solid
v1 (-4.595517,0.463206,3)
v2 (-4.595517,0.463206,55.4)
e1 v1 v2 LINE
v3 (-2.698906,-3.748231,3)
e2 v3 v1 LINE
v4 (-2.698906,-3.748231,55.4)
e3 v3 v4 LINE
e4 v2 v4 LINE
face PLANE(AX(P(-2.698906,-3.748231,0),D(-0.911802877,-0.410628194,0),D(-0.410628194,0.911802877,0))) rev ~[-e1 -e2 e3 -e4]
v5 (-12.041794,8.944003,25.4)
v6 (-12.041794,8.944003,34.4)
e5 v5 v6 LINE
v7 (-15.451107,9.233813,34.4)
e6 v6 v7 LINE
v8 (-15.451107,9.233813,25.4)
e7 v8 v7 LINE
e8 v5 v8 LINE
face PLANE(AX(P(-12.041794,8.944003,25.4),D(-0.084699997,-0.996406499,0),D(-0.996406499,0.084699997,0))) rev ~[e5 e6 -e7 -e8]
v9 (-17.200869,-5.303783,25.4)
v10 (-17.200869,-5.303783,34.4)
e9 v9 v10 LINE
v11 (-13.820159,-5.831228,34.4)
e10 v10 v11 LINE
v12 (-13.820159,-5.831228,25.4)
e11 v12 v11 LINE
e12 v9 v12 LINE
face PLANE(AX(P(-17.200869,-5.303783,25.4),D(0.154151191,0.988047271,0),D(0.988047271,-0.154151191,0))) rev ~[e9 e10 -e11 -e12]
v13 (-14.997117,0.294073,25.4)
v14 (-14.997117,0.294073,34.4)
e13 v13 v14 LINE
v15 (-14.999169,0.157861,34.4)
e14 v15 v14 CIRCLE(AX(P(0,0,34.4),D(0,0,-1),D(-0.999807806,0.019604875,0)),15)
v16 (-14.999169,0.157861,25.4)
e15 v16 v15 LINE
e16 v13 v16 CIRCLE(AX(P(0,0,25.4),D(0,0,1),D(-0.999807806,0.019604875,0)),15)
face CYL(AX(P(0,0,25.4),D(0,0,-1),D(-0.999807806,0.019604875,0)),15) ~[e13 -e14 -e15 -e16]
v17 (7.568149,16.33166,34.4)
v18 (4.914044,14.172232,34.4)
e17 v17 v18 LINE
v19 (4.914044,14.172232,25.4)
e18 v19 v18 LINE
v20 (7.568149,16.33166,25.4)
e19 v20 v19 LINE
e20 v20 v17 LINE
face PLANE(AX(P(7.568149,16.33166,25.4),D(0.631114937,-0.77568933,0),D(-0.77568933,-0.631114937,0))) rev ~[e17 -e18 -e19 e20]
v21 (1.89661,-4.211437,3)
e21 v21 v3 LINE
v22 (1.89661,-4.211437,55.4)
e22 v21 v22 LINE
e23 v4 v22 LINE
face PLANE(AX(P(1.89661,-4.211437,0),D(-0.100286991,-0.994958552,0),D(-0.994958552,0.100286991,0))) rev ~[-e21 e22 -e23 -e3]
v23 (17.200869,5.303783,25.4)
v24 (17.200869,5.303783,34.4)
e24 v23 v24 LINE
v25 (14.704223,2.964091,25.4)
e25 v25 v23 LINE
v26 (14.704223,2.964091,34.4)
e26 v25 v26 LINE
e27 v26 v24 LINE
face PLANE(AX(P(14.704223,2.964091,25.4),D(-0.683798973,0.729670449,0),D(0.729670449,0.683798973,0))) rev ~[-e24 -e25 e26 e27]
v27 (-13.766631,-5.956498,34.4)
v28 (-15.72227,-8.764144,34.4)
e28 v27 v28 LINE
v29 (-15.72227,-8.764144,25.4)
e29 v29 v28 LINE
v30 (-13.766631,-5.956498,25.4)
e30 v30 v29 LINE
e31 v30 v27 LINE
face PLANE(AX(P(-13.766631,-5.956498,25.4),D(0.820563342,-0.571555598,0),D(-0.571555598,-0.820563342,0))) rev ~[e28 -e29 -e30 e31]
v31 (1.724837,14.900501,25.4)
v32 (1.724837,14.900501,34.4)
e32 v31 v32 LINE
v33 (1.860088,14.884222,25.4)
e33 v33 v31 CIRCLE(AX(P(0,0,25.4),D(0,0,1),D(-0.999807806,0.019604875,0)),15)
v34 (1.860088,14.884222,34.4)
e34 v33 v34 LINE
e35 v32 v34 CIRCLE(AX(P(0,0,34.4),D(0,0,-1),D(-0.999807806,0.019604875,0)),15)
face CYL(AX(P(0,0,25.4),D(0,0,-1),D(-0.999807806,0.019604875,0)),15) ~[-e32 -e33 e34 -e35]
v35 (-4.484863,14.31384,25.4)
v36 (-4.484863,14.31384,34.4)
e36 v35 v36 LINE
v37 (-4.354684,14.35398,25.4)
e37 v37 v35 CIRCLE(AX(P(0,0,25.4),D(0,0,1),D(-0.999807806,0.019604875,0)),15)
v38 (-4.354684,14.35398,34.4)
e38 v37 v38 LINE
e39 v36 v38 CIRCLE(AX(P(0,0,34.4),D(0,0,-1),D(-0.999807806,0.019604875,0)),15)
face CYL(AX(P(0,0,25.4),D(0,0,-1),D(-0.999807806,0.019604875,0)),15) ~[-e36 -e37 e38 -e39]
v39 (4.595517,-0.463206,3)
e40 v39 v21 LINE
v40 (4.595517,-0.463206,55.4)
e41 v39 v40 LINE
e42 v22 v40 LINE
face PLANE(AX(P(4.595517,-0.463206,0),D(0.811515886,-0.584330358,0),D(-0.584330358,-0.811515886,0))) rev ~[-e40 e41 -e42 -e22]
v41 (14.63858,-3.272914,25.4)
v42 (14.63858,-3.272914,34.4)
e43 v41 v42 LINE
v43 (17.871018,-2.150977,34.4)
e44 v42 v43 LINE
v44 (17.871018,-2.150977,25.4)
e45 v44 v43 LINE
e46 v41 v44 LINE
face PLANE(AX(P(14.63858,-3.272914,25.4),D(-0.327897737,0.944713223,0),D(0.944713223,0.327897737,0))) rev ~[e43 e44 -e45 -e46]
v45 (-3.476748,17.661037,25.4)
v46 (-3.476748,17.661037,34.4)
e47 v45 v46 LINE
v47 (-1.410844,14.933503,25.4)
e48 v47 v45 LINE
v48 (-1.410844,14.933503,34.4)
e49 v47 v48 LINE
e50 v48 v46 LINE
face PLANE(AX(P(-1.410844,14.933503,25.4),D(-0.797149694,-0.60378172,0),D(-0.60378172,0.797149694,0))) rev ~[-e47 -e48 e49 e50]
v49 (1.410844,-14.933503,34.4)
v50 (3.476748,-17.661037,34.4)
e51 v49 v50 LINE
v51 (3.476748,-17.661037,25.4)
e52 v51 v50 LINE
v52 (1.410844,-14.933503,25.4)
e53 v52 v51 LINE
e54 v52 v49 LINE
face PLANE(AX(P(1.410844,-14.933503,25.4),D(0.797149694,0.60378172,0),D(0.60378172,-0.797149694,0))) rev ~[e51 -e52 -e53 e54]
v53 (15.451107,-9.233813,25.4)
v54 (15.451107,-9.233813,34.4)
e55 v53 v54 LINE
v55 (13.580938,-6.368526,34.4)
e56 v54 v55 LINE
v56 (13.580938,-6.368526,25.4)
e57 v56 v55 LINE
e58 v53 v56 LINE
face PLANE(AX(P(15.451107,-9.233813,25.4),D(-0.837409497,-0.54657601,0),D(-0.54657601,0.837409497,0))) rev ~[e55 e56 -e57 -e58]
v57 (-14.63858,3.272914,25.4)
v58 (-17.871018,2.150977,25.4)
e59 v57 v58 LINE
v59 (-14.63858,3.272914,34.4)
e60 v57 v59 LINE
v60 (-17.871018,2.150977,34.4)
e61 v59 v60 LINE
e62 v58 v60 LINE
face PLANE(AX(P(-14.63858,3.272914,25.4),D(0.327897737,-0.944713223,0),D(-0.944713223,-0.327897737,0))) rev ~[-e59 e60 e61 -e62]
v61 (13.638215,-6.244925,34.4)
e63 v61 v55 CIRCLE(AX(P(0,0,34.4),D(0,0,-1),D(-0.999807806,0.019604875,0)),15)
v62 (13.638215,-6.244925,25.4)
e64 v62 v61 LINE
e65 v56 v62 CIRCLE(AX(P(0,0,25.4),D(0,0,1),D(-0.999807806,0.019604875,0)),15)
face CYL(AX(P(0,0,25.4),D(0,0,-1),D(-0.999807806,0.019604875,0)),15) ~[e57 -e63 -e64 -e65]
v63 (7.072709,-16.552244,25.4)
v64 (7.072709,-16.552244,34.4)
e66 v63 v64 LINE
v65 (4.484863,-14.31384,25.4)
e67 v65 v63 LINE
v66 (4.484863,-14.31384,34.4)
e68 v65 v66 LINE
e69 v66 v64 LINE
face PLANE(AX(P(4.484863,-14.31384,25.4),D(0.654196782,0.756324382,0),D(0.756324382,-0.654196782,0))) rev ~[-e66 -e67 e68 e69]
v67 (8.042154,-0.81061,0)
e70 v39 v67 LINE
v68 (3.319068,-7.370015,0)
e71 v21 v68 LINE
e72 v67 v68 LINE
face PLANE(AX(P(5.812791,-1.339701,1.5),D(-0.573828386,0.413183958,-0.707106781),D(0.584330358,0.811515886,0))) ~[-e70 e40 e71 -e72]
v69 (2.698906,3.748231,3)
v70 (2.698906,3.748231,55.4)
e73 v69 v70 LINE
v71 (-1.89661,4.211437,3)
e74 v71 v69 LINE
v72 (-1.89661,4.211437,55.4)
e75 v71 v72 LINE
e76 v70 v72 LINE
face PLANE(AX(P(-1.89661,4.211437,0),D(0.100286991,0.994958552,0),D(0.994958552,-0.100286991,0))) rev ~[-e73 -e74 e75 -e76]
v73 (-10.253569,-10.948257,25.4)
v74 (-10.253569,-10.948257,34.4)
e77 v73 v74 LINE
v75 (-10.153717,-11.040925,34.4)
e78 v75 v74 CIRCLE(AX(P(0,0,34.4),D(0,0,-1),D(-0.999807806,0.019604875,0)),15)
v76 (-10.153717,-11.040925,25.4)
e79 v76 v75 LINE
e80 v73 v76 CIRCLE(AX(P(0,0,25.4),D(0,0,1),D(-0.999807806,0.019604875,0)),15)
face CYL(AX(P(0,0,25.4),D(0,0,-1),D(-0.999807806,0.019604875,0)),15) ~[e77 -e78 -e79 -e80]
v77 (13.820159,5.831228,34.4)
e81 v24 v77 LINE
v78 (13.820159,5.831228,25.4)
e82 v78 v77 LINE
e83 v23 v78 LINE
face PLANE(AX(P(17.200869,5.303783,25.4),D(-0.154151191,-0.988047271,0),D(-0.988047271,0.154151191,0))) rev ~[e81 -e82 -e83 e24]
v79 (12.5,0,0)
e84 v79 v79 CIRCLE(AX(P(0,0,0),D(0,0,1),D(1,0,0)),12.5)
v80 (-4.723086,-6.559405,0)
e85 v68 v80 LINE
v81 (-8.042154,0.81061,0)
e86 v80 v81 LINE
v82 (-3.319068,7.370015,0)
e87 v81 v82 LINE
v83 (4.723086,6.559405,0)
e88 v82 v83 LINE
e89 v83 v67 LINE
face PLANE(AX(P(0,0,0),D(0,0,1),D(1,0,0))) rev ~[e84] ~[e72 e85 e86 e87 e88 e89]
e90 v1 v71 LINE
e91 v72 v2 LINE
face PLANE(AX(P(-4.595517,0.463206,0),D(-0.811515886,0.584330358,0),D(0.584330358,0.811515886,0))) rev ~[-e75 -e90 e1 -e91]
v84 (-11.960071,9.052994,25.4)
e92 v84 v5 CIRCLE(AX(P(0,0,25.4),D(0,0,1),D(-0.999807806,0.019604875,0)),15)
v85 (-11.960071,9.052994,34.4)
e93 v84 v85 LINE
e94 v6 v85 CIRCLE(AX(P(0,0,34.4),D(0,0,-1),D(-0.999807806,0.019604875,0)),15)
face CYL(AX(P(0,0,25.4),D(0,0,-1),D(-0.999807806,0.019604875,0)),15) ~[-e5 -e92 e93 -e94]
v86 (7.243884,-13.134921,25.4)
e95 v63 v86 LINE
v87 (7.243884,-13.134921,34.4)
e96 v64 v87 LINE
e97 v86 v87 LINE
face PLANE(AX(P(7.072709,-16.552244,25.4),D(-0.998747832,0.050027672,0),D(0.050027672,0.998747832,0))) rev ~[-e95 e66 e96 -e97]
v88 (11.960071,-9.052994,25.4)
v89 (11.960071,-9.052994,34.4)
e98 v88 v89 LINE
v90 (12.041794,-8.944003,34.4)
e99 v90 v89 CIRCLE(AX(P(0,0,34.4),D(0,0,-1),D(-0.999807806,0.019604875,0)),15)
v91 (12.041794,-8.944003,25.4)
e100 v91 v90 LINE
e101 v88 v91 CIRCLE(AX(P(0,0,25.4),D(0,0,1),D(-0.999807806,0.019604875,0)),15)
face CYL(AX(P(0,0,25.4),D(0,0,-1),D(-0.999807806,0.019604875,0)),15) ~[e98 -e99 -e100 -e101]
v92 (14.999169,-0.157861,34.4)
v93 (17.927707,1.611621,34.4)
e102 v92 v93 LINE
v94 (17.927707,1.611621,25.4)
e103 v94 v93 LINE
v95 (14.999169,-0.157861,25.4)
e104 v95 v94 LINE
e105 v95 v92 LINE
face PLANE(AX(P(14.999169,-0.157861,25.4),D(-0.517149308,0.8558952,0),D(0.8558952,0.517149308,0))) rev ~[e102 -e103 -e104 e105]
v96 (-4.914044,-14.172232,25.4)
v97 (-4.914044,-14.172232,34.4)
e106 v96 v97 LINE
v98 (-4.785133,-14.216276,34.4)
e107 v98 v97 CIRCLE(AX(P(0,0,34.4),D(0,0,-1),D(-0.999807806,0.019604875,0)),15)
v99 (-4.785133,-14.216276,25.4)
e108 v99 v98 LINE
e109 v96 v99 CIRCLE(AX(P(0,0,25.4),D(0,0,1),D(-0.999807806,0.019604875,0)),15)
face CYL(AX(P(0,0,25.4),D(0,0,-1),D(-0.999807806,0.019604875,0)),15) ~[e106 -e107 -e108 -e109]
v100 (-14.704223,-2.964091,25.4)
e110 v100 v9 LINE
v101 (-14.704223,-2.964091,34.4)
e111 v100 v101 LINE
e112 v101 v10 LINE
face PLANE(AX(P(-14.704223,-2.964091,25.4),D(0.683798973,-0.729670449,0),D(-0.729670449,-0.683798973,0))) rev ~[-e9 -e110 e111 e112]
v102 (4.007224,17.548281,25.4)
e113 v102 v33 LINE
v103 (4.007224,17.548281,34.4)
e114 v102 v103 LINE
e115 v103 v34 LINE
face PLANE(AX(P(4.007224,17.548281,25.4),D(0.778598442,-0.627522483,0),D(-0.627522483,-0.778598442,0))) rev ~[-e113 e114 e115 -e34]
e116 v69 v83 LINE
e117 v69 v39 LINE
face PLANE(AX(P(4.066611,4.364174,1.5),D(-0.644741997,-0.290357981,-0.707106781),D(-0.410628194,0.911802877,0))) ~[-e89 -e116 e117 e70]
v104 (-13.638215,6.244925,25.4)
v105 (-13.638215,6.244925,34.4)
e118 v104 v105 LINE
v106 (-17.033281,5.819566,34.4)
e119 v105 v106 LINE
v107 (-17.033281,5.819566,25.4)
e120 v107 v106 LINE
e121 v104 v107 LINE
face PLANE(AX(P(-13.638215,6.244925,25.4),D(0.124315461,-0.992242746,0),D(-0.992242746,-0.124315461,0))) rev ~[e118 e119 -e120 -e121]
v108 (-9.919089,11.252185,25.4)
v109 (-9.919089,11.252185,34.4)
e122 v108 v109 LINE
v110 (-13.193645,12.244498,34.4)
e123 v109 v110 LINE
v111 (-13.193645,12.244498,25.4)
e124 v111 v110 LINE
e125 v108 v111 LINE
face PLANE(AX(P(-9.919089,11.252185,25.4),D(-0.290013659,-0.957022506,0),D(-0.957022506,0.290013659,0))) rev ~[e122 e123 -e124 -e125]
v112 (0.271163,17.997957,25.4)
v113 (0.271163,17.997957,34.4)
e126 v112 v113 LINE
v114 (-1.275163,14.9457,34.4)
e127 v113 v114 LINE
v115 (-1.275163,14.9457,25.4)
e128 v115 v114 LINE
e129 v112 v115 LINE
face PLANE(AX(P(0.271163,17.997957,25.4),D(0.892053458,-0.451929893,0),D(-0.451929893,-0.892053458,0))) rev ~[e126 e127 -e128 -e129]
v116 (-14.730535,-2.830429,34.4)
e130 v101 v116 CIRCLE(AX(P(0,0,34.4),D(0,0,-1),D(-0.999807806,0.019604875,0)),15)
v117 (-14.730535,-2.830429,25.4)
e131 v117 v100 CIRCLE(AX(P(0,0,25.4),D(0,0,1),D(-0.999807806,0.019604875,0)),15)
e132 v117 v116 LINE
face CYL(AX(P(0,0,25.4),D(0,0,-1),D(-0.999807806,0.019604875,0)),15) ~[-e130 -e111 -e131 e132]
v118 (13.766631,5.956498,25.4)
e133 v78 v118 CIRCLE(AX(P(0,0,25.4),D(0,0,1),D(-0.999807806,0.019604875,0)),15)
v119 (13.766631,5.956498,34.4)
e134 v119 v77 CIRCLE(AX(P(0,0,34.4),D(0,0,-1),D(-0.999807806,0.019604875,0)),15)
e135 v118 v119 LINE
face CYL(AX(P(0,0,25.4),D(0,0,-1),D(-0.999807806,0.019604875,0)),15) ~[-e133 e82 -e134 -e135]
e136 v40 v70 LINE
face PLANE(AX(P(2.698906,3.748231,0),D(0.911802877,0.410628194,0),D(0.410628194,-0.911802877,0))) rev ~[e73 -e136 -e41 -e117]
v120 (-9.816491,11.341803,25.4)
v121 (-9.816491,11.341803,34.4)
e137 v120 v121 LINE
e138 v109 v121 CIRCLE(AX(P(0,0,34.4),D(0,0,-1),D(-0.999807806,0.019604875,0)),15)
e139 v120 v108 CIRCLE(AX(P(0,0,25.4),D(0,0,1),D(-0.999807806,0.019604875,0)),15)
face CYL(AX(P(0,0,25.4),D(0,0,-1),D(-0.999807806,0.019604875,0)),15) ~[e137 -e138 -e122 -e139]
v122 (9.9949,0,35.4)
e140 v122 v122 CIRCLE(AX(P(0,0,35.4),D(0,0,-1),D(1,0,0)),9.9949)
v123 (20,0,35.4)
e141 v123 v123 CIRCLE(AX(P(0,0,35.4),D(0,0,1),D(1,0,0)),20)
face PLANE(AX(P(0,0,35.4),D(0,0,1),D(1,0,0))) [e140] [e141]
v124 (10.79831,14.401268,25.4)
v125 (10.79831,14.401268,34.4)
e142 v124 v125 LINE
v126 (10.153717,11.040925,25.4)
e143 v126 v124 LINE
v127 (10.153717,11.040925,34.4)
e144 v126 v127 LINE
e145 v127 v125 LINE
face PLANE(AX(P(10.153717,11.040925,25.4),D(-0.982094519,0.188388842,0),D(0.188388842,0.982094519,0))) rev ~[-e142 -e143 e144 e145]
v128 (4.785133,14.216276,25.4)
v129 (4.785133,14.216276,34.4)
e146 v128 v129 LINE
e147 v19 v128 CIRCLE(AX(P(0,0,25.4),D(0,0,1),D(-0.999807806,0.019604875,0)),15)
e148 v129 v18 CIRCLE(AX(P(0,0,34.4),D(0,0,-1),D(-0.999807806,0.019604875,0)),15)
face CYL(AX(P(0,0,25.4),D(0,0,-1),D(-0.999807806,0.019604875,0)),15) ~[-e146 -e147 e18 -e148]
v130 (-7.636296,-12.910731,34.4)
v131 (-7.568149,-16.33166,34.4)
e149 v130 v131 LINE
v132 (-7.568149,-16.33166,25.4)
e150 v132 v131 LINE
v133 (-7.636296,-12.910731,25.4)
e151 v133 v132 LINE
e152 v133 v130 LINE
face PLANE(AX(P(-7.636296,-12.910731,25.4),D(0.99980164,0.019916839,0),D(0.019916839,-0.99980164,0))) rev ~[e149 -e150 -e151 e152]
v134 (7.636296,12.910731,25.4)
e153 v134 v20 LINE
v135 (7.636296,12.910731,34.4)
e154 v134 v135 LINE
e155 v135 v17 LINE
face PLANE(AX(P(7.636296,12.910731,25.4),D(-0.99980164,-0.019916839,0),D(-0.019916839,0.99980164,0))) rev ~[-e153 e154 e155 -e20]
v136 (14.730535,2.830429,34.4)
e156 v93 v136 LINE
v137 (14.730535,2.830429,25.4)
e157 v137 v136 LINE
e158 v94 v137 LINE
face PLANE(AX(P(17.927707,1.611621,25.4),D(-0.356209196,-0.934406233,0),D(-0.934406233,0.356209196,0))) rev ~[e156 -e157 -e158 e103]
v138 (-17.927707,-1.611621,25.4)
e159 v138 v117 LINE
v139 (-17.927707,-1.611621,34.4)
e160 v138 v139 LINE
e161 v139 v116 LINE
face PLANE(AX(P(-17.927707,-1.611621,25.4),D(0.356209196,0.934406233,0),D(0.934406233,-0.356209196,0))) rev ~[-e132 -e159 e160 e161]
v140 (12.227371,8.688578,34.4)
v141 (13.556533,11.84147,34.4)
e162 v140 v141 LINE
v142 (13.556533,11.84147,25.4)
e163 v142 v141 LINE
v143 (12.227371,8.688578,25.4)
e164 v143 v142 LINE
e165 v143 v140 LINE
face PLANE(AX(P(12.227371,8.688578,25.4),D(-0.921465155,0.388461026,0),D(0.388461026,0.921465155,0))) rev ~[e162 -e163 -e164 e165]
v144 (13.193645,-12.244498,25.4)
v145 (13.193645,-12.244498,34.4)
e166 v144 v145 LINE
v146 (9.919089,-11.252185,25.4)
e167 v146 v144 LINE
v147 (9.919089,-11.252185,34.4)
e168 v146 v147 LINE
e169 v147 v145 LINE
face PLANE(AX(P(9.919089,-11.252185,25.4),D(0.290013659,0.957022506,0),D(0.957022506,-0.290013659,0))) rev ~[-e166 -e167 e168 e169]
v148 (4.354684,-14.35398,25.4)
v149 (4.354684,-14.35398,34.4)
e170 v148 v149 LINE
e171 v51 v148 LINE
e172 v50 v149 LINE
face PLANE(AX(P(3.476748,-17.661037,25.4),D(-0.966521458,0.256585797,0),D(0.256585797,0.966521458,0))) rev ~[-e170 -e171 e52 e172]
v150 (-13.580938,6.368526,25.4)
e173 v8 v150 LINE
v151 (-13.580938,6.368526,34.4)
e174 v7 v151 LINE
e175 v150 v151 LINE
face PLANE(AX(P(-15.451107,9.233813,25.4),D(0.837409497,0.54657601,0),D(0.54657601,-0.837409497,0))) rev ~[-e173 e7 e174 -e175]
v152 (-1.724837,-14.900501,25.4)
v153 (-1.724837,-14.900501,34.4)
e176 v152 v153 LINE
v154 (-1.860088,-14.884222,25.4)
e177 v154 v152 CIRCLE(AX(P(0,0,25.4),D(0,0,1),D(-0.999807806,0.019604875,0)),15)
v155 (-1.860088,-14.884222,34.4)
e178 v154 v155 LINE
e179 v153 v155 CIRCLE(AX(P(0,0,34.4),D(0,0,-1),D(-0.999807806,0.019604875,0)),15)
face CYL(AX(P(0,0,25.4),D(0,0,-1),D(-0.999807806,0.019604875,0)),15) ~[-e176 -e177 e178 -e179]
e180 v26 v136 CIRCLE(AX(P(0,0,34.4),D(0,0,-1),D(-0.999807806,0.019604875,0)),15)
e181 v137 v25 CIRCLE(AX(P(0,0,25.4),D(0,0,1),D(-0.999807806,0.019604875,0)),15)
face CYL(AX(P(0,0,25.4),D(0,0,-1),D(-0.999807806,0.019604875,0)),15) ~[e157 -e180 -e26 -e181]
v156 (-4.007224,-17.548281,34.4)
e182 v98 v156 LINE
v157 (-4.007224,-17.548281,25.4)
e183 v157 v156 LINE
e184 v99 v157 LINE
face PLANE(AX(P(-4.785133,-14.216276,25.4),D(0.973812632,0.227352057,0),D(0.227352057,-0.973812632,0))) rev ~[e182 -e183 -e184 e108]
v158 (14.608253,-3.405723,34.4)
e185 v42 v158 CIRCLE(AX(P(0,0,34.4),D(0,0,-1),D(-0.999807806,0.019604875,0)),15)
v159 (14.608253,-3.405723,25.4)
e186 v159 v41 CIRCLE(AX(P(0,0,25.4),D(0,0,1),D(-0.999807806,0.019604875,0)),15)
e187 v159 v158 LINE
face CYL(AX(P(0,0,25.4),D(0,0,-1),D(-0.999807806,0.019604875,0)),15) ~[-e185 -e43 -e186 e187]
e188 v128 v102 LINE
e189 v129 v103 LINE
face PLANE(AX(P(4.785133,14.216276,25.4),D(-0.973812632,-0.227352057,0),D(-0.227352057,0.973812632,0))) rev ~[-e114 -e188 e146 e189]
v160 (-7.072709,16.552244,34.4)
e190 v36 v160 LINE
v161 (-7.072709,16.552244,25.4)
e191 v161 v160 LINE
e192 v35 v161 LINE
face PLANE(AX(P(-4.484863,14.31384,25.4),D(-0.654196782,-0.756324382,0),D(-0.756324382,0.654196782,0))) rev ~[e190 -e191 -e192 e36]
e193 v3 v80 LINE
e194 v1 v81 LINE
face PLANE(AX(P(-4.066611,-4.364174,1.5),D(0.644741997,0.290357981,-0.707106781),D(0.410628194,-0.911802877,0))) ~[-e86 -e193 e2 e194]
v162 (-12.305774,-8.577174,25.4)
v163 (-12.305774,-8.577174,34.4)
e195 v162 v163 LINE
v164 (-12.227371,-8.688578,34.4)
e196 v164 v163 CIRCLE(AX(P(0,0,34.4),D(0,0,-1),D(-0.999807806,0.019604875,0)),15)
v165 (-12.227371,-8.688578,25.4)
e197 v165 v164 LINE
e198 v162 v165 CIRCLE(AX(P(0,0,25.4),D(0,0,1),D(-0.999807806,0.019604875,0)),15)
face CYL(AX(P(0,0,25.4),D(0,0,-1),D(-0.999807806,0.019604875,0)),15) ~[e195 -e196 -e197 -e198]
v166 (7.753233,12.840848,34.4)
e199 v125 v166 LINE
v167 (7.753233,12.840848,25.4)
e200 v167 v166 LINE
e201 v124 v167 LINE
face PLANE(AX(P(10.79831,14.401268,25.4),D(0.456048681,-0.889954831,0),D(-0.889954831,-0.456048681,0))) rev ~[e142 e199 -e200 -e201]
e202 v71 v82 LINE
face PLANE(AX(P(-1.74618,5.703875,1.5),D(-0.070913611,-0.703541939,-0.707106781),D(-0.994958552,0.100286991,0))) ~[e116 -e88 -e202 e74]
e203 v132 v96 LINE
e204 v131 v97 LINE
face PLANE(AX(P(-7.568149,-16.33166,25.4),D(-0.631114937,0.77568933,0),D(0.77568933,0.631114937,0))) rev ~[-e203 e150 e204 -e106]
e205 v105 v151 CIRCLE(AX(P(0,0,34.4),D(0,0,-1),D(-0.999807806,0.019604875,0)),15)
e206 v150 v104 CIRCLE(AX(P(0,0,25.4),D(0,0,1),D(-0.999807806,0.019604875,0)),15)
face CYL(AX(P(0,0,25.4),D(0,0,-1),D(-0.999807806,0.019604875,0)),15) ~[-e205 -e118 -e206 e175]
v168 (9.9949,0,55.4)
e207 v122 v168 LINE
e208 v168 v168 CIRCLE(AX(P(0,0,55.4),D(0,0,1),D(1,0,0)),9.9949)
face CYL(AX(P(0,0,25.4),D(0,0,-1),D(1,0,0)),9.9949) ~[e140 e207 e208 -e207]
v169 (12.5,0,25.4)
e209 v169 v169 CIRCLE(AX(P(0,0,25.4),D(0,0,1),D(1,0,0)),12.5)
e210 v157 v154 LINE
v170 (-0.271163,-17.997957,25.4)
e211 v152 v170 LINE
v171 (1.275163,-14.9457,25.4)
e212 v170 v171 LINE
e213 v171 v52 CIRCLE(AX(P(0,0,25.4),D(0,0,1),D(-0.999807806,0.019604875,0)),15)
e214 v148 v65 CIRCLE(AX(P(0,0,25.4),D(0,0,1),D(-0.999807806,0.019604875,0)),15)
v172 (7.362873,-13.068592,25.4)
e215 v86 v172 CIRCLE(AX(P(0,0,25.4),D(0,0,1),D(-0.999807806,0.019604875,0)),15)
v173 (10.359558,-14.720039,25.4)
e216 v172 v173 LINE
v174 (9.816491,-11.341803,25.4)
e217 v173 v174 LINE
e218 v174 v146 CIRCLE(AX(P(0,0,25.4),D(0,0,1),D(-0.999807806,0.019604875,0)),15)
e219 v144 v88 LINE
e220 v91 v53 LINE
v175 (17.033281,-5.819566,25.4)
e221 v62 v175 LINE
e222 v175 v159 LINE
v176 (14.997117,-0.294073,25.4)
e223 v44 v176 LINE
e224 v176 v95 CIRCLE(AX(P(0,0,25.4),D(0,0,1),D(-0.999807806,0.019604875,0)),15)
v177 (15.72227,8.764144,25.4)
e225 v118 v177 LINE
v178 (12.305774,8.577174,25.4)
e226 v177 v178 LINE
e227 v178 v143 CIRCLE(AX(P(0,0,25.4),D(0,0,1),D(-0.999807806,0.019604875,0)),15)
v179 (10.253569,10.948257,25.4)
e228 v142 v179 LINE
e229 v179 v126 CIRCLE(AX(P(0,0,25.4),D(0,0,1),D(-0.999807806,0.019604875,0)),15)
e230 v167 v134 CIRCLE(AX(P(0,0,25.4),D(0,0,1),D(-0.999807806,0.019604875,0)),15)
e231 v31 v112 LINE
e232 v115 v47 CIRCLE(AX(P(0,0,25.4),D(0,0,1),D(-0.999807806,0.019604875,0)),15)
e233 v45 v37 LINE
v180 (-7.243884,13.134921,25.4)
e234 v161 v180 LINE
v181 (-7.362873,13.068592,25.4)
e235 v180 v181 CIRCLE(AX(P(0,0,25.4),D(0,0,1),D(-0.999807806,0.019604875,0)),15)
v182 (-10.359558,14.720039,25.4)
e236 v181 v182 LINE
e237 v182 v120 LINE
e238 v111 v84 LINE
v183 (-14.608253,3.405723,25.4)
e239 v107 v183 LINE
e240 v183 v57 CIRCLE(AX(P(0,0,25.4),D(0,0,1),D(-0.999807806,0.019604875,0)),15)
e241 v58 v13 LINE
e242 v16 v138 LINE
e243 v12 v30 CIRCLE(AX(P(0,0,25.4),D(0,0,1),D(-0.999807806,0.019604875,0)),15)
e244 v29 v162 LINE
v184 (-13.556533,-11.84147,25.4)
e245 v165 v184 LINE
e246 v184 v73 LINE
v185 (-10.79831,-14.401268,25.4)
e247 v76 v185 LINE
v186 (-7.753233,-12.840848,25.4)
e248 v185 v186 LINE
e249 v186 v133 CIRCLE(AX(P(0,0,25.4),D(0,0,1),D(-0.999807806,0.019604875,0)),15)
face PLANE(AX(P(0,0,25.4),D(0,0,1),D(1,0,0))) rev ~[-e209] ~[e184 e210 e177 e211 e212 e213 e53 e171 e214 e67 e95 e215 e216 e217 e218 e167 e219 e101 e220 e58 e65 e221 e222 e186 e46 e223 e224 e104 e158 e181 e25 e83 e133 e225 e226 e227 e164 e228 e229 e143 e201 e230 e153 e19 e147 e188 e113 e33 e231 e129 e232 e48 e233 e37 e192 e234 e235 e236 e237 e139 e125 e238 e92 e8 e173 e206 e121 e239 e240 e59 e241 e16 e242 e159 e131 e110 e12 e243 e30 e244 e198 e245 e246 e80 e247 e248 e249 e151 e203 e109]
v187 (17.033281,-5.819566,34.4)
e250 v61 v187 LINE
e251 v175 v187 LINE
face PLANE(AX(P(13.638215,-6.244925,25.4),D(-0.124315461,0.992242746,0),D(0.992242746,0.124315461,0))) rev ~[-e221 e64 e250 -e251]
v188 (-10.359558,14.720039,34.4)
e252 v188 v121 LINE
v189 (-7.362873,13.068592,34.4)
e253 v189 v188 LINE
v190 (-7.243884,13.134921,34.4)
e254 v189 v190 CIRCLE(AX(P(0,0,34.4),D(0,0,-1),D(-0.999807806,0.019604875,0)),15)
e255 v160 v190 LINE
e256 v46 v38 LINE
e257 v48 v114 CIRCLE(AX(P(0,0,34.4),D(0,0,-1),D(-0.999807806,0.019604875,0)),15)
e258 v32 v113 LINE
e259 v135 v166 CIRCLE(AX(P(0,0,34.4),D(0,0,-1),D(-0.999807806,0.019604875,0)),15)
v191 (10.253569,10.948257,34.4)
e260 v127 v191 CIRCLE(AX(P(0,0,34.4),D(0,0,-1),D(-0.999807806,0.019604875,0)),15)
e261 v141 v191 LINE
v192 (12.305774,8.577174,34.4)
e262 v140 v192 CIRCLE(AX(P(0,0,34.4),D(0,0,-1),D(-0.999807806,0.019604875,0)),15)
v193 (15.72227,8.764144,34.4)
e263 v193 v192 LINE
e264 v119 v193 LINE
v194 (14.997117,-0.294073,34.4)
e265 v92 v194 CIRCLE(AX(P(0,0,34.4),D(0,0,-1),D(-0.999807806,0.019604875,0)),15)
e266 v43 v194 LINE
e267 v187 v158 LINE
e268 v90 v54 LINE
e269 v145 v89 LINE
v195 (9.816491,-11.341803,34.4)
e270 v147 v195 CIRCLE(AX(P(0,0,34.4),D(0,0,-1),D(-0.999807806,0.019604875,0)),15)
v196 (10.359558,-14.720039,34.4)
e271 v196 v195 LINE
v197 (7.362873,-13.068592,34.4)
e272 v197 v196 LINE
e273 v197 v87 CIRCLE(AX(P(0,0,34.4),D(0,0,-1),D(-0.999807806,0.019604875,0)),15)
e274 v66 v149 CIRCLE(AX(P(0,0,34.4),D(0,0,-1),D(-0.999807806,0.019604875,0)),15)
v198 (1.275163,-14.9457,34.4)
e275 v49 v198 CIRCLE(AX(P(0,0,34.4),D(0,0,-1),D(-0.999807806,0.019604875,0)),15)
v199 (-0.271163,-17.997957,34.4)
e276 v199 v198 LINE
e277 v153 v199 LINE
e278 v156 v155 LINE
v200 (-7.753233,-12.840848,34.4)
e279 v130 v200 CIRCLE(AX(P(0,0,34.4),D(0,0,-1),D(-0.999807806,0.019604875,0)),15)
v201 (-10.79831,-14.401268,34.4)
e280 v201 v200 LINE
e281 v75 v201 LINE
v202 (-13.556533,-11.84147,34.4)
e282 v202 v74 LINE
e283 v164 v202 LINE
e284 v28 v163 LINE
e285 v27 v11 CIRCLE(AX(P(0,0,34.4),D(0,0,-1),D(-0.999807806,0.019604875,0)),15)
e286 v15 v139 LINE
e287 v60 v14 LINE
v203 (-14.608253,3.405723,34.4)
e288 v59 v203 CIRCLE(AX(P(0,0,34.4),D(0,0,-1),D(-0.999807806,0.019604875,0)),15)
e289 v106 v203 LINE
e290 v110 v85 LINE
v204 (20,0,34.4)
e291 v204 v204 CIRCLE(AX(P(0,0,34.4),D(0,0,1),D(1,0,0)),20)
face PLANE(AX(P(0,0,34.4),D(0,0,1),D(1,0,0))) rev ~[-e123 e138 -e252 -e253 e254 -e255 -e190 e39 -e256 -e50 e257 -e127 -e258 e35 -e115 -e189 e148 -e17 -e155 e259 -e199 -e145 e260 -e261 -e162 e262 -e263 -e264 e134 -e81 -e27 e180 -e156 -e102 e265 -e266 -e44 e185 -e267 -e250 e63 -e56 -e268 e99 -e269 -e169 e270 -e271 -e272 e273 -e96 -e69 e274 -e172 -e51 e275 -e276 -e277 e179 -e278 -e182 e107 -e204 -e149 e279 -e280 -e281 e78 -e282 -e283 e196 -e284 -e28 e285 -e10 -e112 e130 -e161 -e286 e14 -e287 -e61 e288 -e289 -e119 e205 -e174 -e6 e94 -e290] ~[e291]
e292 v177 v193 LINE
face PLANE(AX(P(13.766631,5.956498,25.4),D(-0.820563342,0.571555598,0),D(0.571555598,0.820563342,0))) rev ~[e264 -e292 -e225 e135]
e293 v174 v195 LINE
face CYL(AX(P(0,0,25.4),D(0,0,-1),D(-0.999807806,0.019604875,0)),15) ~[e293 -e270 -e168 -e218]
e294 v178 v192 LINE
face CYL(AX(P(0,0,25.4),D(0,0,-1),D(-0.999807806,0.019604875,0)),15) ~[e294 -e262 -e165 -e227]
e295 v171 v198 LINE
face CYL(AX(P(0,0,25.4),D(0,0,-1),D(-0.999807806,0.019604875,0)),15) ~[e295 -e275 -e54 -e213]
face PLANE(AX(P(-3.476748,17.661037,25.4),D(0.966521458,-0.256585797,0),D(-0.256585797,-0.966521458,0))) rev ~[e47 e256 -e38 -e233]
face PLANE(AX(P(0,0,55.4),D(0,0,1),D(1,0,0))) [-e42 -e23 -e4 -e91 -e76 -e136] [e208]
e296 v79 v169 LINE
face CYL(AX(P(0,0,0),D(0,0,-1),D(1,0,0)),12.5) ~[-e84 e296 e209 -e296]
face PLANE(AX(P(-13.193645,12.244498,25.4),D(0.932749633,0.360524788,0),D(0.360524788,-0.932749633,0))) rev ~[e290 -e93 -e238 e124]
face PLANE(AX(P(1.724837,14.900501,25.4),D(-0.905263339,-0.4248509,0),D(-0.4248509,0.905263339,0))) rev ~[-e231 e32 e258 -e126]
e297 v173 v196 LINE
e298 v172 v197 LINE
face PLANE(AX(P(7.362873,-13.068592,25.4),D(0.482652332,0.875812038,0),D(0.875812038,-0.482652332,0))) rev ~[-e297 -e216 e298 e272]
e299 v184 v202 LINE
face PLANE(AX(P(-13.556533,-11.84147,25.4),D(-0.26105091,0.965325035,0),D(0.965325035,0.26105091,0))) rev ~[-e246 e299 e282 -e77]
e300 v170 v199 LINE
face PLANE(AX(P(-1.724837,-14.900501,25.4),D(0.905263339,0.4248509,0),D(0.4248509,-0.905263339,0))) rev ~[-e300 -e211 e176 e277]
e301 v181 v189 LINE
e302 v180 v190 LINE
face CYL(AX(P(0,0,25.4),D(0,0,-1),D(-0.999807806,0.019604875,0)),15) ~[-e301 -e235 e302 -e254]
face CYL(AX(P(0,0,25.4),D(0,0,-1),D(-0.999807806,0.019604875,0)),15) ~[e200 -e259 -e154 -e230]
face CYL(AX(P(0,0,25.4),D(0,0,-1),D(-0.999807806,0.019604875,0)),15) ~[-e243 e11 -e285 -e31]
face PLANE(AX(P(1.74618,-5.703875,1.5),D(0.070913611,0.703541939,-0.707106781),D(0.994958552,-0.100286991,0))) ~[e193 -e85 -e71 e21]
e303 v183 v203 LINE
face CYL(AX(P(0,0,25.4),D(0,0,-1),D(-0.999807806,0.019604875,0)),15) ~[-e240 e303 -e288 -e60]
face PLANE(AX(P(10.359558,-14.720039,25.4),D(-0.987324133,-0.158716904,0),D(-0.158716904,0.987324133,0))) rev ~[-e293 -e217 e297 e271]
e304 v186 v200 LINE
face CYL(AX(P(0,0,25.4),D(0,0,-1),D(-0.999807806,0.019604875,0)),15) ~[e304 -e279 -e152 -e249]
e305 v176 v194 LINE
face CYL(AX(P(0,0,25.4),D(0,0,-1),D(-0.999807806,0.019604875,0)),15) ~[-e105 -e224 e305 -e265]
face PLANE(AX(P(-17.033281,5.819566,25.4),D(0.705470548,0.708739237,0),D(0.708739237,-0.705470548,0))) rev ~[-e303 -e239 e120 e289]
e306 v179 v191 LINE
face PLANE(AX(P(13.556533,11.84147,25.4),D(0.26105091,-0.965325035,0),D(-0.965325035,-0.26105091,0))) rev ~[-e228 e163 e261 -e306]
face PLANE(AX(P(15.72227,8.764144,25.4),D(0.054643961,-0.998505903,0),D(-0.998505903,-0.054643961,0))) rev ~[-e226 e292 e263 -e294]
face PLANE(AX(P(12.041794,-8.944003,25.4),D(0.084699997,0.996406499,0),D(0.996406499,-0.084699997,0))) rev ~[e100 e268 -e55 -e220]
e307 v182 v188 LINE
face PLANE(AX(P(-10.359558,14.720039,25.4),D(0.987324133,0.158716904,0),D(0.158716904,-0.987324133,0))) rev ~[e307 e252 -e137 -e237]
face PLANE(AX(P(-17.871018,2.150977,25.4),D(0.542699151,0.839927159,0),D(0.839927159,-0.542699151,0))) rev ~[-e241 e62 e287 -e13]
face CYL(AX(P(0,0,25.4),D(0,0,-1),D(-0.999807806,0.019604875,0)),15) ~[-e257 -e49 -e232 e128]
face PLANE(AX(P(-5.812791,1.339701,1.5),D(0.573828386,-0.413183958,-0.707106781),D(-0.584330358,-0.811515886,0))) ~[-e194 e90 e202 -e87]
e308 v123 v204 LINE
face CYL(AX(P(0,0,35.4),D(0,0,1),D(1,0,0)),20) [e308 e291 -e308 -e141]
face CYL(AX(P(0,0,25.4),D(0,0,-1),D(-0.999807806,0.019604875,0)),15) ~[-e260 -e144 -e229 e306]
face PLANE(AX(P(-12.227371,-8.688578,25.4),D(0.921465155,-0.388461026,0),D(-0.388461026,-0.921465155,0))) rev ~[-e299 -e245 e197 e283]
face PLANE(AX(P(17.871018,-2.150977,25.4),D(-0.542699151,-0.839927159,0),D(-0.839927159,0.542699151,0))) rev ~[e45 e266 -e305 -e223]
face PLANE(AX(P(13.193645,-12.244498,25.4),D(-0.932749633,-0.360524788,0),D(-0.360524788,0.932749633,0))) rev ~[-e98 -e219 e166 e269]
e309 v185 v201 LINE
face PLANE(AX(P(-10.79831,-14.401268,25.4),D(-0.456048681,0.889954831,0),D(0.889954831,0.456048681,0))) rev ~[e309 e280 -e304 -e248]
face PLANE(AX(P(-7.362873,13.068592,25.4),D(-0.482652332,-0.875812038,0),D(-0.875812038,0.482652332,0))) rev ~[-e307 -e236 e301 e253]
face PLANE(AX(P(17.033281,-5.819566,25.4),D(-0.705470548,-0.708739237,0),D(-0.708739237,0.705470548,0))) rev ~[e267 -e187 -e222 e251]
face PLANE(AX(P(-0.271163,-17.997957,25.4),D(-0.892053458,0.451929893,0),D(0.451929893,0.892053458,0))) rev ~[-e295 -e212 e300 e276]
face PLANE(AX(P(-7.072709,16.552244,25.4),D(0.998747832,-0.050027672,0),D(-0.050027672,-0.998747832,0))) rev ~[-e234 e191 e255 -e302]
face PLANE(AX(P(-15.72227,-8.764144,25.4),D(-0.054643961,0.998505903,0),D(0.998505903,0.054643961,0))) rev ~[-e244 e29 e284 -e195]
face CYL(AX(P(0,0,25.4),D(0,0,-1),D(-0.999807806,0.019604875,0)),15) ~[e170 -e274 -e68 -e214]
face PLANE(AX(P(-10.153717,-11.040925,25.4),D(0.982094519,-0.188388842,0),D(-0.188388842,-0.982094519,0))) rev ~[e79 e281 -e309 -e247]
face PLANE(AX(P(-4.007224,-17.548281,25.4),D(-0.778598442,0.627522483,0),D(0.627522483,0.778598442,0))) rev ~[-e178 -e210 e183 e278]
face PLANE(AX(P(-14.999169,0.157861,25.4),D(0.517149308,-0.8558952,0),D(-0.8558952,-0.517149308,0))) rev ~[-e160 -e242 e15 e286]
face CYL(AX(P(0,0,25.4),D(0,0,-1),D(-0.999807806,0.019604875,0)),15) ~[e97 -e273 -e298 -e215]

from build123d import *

# Parameters (mm, degrees)
SKETCH1_R               = 12.5
BOSS_EXTRUDE1_DEPTH     = 25.4
SKETCH2_R               = 9.9949
BOSS_EXTRUDE2_DEPTH     = 30
SKETCH4_R               = 15
BOSS_EXTRUDE3_DEPTH     = 10
SKETCH5_R               = 20
BOSS_EXTRUDE4_DEPTH     = 1
CUT_EXTRUDE1_DEPTH      = 1
CUT_EXTRUDE1_DEPTH_BACK = 56.4
CHAMFER1_SIZE           = 3


with BuildPart() as part:
    # Sketch1 → Boss-Extrude1 (new body)
    with BuildSketch(Plane.XY):
        Circle(SKETCH1_R)
    extrude(amount=BOSS_EXTRUDE1_DEPTH)

    # Sketch2 → Boss-Extrude2 (add)
    with BuildSketch(Plane.XY.offset(25.4)):
        Circle(SKETCH2_R)
    extrude(amount=BOSS_EXTRUDE2_DEPTH)

    # Sketch4 → Boss-Extrude3 (add)
    with BuildSketch(Plane.XY.offset(25.4)):
        Circle(SKETCH4_R)
        with BuildLine():
            ThreePointArc((-14.997117089, 0.294073132), (-14.892515339, 1.792480649), (-14.638580274, 3.272914233))
            Line((-14.638580274, 3.272914233), (-17.871018407, 2.150976779))
            Line((-17.871018407, 2.150976779), (-14.997117089, 0.294073132))
        make_face()
        with BuildLine():
            ThreePointArc((-14.730535341, -2.830429043), (-14.93975583, -1.343017399), (-14.999169305, 0.157861228))
            Line((-14.999169305, 0.157861228), (-17.927706996, -1.611620878))
            Line((-17.927706996, -1.611620878), (-14.730535341, -2.830429043))
        make_face()
        with BuildLine():
            ThreePointArc((-14.608252857, 3.4057229), (-14.194400465, 4.849638691), (-13.638215041, 6.24492518))
            Line((-13.638215041, 6.24492518), (-17.033280558, 5.819566429))
            Line((-17.033280558, 5.819566429), (-14.608252857, 3.4057229))
        make_face()
        with BuildLine():
            ThreePointArc((-13.580937876, 6.368526235), (-12.875922179, 7.694844251), (-12.041794367, 8.94400293))
            Line((-12.041794367, 8.94400293), (-15.451106615, 9.233813101))
            Line((-15.451106615, 9.233813101), (-13.580937876, 6.368526235))
        make_face()
        with BuildLine():
            ThreePointArc((-11.960070742, 9.052994413), (-10.994704308, 10.203748193), (-9.919089497, 11.252184835))
            Line((-9.919089497, 11.252184835), (-13.193645169, 12.244497832))
            Line((-13.193645169, 12.244497832), (-11.960070742, 9.052994413))
        make_face()
        with BuildLine():
            ThreePointArc((-9.816491125, 11.341803295), (-8.6329651, 12.266699376), (-7.362872818, 13.068592268))
            Line((-7.362872818, 13.068592268), (-10.35955812, 14.720039251))
            Line((-10.35955812, 14.720039251), (-9.816491125, 11.341803295))
        make_face()
        with BuildLine():
            ThreePointArc((-7.243883742, 13.134920949), (-5.893923892, 13.793536934), (-4.484863267, 14.313839509))
            Line((-4.484863267, 14.313839509), (-7.07270867, 16.552244321))
            Line((-7.07270867, 16.552244321), (-7.243883742, 13.134920949))
        make_face()
        with BuildLine():
            ThreePointArc((-4.354683879, 14.353979529), (-2.897289927, 14.71753074), (-1.41084367, 14.933503278))
            Line((-1.41084367, 14.933503278), (-3.476747913, 17.661036888))
            Line((-3.476747913, 17.661036888), (-4.354683879, 14.353979529))
        make_face()
        with BuildLine():
            Line((1.724836566, 14.900501294), (0.271163412, 17.997957395))
            Line((0.271163412, 17.997957395), (-1.275163434, 14.945700325))
            ThreePointArc((-1.275163434, 14.945700325), (0.22596951, 14.998297829), (1.724836566, 14.900501294))
        make_face()
        with BuildLine():
            Line((4.007223594, 17.548280801), (1.860087771, 14.8842223))
            ThreePointArc((1.860087771, 14.8842223), (3.339352995, 14.623567334), (4.785133167, 14.216275904))
            Line((4.785133167, 14.216275904), (4.007223594, 17.548280801))
        make_face()
        with BuildLine():
            Line((7.568148876, 16.331660129), (4.914044216, 14.172232338))
            ThreePointArc((4.914044216, 14.172232338), (6.30679073, 13.609716775), (7.636296486, 12.910731039))
            Line((7.636296486, 12.910731039), (7.568148876, 16.331660129))
        make_face()
        with BuildLine():
            Line((10.798309737, 14.401267542), (7.753233347, 12.840847817))
            ThreePointArc((7.753233347, 12.840847817), (8.998591447, 12.001056285), (10.153717007, 11.040925276))
            Line((10.153717007, 11.040925276), (10.798309737, 14.401267542))
        make_face()
        with BuildLine():
            Line((13.556532646, 11.841470459), (10.253568978, 10.948256629))
            ThreePointArc((10.253568978, 10.948256629), (11.297110538, 9.867892049), (12.227371371, 8.688578098))
            Line((12.227371371, 8.688578098), (13.556532646, 11.841470459))
        make_face()
        with BuildLine():
            Line((15.722270026, 8.764144294), (12.305774442, 8.577174091))
            ThreePointArc((12.305774442, 8.577174091), (13.101891689, 7.303453579), (13.766630933, 5.956498364))
            Line((13.766630933, 5.956498364), (15.722270026, 8.764144294))
        make_face()
        with BuildLine():
            Line((17.200868763, 5.303782969), (13.820158513, 5.831227887))
            ThreePointArc((13.820158513, 5.831227887), (14.334057303, 4.419819141), (14.704222663, 2.964091069))
            Line((14.704222663, 2.964091069), (17.200868763, 5.303782969))
        make_face()
        with BuildLine():
            Line((17.927706996, 1.611620878), (14.730535341, 2.830429043))
            ThreePointArc((14.730535341, 2.830429043), (14.932481879, 1.4216135), (15, 0))
            ThreePointArc((15, 0), (14.999792325, -0.078931707), (14.999169305, -0.157861228))
            Line((14.999169305, -0.157861228), (17.927706996, 1.611620878))
        make_face()
        with BuildLine():
            Line((17.871018407, -2.150976779), (14.997117089, -0.294073132))
            ThreePointArc((14.997117089, -0.294073132), (14.892515339, -1.792480649), (14.638580274, -3.272914233))
            Line((14.638580274, -3.272914233), (17.871018407, -2.150976779))
        make_face()
        with BuildLine():
            Line((17.033280558, -5.819566429), (14.608252857, -3.4057229))
            ThreePointArc((14.608252857, -3.4057229), (14.194400465, -4.849638691), (13.638215041, -6.24492518))
            Line((13.638215041, -6.24492518), (17.033280558, -5.819566429))
        make_face()
        with BuildLine():
            Line((15.451106615, -9.233813101), (13.580937876, -6.368526235))
            ThreePointArc((13.580937876, -6.368526235), (12.875922179, -7.694844251), (12.041794367, -8.94400293))
            Line((12.041794367, -8.94400293), (15.451106615, -9.233813101))
        make_face()
        with BuildLine():
            Line((13.193645169, -12.244497832), (11.960070742, -9.052994413))
            ThreePointArc((11.960070742, -9.052994413), (10.994704308, -10.203748193), (9.919089497, -11.252184835))
            Line((9.919089497, -11.252184835), (13.193645169, -12.244497832))
        make_face()
        with BuildLine():
            Line((10.35955812, -14.720039251), (9.816491125, -11.341803295))
            ThreePointArc((9.816491125, -11.341803295), (8.6329651, -12.266699376), (7.362872818, -13.068592268))
            Line((7.362872818, -13.068592268), (10.35955812, -14.720039251))
        make_face()
        with BuildLine():
            Line((7.07270867, -16.552244321), (7.243883742, -13.134920949))
            ThreePointArc((7.243883742, -13.134920949), (5.893923892, -13.793536934), (4.484863267, -14.313839509))
            Line((4.484863267, -14.313839509), (7.07270867, -16.552244321))
        make_face()
        with BuildLine():
            Line((3.476747913, -17.661036888), (4.354683879, -14.353979529))
            ThreePointArc((4.354683879, -14.353979529), (2.897289927, -14.71753074), (1.41084367, -14.933503278))
            Line((1.41084367, -14.933503278), (3.476747913, -17.661036888))
        make_face()
        with BuildLine():
            ThreePointArc((1.275163434, -14.945700325), (-0.22596951, -14.998297829), (-1.724836566, -14.900501294))
            Line((-1.724836566, -14.900501294), (-0.271163412, -17.997957395))
            Line((-0.271163412, -17.997957395), (1.275163434, -14.945700325))
        make_face()
        with BuildLine():
            ThreePointArc((-1.860087771, -14.8842223), (-3.339352995, -14.623567334), (-4.785133167, -14.216275904))
            Line((-4.785133167, -14.216275904), (-4.007223594, -17.548280801))
            Line((-4.007223594, -17.548280801), (-1.860087771, -14.8842223))
        make_face()
        with BuildLine():
            ThreePointArc((-4.914044216, -14.172232338), (-6.30679073, -13.609716775), (-7.636296486, -12.910731039))
            Line((-7.636296486, -12.910731039), (-7.568148876, -16.331660129))
            Line((-7.568148876, -16.331660129), (-4.914044216, -14.172232338))
        make_face()
        with BuildLine():
            ThreePointArc((-7.753233347, -12.840847817), (-8.998591447, -12.001056285), (-10.153717007, -11.040925276))
            Line((-10.153717007, -11.040925276), (-10.798309737, -14.401267542))
            Line((-10.798309737, -14.401267542), (-7.753233347, -12.840847817))
        make_face()
        with BuildLine():
            ThreePointArc((-10.253568978, -10.948256629), (-11.297110538, -9.867892049), (-12.227371371, -8.688578098))
            Line((-12.227371371, -8.688578098), (-13.556532646, -11.841470459))
            Line((-13.556532646, -11.841470459), (-10.253568978, -10.948256629))
        make_face()
        with BuildLine():
            ThreePointArc((-12.305774442, -8.577174091), (-13.101891689, -7.303453579), (-13.766630933, -5.956498364))
            Line((-13.766630933, -5.956498364), (-15.722270026, -8.764144294))
            Line((-15.722270026, -8.764144294), (-12.305774442, -8.577174091))
        make_face()
        with BuildLine():
            ThreePointArc((-13.820158513, -5.831227887), (-14.334057303, -4.419819141), (-14.704222663, -2.964091069))
            Line((-14.704222663, -2.964091069), (-17.200868763, -5.303782969))
            Line((-17.200868763, -5.303782969), (-13.820158513, -5.831227887))
        make_face()
    extrude(amount=BOSS_EXTRUDE3_DEPTH)

    # Sketch5 → Boss-Extrude4 (add)
    with BuildSketch(Plane.XY.offset(35.4)):
        Circle(SKETCH5_R)
    extrude(amount=-BOSS_EXTRUDE4_DEPTH)

    # Sketch3 → Cut-Extrude1 (cut, two sides)
    with BuildSketch(Plane(origin=(0, 0, 0), x_dir=(-1, 0, 0), z_dir=(0, 0, -1))) as cut_extrude1_sk:
        Polygon((1.896610387, 4.211437091), (-2.698906314, 3.748231322), (-4.595516701, -0.46320577), (-1.896610387, -4.211437091), (2.698906314, -3.748231322), (4.595516701, 0.46320577), align=None)
    extrude(amount=CUT_EXTRUDE1_DEPTH, mode=Mode.SUBTRACT)
    extrude(cut_extrude1_sk.sketch, amount=-CUT_EXTRUDE1_DEPTH_BACK, mode=Mode.SUBTRACT)

    # Chamfer1
    chamfer1_edges = [part.edges().sort_by_distance(p)[0] for p in [
        (-3.246063544, 2.337321431, 0),
        (-3.647211508, -1.642512776, 0),
        (-0.401147964, -3.979834206, 0),
        (3.246063544, -2.337321431, 0),
        (3.647211508, 1.642512776, 0),
        (0.401147964, 3.979834206, 0),
    ]]
    chamfer(chamfer1_edges, length=CHAMFER1_SIZE)


solid = part.part
